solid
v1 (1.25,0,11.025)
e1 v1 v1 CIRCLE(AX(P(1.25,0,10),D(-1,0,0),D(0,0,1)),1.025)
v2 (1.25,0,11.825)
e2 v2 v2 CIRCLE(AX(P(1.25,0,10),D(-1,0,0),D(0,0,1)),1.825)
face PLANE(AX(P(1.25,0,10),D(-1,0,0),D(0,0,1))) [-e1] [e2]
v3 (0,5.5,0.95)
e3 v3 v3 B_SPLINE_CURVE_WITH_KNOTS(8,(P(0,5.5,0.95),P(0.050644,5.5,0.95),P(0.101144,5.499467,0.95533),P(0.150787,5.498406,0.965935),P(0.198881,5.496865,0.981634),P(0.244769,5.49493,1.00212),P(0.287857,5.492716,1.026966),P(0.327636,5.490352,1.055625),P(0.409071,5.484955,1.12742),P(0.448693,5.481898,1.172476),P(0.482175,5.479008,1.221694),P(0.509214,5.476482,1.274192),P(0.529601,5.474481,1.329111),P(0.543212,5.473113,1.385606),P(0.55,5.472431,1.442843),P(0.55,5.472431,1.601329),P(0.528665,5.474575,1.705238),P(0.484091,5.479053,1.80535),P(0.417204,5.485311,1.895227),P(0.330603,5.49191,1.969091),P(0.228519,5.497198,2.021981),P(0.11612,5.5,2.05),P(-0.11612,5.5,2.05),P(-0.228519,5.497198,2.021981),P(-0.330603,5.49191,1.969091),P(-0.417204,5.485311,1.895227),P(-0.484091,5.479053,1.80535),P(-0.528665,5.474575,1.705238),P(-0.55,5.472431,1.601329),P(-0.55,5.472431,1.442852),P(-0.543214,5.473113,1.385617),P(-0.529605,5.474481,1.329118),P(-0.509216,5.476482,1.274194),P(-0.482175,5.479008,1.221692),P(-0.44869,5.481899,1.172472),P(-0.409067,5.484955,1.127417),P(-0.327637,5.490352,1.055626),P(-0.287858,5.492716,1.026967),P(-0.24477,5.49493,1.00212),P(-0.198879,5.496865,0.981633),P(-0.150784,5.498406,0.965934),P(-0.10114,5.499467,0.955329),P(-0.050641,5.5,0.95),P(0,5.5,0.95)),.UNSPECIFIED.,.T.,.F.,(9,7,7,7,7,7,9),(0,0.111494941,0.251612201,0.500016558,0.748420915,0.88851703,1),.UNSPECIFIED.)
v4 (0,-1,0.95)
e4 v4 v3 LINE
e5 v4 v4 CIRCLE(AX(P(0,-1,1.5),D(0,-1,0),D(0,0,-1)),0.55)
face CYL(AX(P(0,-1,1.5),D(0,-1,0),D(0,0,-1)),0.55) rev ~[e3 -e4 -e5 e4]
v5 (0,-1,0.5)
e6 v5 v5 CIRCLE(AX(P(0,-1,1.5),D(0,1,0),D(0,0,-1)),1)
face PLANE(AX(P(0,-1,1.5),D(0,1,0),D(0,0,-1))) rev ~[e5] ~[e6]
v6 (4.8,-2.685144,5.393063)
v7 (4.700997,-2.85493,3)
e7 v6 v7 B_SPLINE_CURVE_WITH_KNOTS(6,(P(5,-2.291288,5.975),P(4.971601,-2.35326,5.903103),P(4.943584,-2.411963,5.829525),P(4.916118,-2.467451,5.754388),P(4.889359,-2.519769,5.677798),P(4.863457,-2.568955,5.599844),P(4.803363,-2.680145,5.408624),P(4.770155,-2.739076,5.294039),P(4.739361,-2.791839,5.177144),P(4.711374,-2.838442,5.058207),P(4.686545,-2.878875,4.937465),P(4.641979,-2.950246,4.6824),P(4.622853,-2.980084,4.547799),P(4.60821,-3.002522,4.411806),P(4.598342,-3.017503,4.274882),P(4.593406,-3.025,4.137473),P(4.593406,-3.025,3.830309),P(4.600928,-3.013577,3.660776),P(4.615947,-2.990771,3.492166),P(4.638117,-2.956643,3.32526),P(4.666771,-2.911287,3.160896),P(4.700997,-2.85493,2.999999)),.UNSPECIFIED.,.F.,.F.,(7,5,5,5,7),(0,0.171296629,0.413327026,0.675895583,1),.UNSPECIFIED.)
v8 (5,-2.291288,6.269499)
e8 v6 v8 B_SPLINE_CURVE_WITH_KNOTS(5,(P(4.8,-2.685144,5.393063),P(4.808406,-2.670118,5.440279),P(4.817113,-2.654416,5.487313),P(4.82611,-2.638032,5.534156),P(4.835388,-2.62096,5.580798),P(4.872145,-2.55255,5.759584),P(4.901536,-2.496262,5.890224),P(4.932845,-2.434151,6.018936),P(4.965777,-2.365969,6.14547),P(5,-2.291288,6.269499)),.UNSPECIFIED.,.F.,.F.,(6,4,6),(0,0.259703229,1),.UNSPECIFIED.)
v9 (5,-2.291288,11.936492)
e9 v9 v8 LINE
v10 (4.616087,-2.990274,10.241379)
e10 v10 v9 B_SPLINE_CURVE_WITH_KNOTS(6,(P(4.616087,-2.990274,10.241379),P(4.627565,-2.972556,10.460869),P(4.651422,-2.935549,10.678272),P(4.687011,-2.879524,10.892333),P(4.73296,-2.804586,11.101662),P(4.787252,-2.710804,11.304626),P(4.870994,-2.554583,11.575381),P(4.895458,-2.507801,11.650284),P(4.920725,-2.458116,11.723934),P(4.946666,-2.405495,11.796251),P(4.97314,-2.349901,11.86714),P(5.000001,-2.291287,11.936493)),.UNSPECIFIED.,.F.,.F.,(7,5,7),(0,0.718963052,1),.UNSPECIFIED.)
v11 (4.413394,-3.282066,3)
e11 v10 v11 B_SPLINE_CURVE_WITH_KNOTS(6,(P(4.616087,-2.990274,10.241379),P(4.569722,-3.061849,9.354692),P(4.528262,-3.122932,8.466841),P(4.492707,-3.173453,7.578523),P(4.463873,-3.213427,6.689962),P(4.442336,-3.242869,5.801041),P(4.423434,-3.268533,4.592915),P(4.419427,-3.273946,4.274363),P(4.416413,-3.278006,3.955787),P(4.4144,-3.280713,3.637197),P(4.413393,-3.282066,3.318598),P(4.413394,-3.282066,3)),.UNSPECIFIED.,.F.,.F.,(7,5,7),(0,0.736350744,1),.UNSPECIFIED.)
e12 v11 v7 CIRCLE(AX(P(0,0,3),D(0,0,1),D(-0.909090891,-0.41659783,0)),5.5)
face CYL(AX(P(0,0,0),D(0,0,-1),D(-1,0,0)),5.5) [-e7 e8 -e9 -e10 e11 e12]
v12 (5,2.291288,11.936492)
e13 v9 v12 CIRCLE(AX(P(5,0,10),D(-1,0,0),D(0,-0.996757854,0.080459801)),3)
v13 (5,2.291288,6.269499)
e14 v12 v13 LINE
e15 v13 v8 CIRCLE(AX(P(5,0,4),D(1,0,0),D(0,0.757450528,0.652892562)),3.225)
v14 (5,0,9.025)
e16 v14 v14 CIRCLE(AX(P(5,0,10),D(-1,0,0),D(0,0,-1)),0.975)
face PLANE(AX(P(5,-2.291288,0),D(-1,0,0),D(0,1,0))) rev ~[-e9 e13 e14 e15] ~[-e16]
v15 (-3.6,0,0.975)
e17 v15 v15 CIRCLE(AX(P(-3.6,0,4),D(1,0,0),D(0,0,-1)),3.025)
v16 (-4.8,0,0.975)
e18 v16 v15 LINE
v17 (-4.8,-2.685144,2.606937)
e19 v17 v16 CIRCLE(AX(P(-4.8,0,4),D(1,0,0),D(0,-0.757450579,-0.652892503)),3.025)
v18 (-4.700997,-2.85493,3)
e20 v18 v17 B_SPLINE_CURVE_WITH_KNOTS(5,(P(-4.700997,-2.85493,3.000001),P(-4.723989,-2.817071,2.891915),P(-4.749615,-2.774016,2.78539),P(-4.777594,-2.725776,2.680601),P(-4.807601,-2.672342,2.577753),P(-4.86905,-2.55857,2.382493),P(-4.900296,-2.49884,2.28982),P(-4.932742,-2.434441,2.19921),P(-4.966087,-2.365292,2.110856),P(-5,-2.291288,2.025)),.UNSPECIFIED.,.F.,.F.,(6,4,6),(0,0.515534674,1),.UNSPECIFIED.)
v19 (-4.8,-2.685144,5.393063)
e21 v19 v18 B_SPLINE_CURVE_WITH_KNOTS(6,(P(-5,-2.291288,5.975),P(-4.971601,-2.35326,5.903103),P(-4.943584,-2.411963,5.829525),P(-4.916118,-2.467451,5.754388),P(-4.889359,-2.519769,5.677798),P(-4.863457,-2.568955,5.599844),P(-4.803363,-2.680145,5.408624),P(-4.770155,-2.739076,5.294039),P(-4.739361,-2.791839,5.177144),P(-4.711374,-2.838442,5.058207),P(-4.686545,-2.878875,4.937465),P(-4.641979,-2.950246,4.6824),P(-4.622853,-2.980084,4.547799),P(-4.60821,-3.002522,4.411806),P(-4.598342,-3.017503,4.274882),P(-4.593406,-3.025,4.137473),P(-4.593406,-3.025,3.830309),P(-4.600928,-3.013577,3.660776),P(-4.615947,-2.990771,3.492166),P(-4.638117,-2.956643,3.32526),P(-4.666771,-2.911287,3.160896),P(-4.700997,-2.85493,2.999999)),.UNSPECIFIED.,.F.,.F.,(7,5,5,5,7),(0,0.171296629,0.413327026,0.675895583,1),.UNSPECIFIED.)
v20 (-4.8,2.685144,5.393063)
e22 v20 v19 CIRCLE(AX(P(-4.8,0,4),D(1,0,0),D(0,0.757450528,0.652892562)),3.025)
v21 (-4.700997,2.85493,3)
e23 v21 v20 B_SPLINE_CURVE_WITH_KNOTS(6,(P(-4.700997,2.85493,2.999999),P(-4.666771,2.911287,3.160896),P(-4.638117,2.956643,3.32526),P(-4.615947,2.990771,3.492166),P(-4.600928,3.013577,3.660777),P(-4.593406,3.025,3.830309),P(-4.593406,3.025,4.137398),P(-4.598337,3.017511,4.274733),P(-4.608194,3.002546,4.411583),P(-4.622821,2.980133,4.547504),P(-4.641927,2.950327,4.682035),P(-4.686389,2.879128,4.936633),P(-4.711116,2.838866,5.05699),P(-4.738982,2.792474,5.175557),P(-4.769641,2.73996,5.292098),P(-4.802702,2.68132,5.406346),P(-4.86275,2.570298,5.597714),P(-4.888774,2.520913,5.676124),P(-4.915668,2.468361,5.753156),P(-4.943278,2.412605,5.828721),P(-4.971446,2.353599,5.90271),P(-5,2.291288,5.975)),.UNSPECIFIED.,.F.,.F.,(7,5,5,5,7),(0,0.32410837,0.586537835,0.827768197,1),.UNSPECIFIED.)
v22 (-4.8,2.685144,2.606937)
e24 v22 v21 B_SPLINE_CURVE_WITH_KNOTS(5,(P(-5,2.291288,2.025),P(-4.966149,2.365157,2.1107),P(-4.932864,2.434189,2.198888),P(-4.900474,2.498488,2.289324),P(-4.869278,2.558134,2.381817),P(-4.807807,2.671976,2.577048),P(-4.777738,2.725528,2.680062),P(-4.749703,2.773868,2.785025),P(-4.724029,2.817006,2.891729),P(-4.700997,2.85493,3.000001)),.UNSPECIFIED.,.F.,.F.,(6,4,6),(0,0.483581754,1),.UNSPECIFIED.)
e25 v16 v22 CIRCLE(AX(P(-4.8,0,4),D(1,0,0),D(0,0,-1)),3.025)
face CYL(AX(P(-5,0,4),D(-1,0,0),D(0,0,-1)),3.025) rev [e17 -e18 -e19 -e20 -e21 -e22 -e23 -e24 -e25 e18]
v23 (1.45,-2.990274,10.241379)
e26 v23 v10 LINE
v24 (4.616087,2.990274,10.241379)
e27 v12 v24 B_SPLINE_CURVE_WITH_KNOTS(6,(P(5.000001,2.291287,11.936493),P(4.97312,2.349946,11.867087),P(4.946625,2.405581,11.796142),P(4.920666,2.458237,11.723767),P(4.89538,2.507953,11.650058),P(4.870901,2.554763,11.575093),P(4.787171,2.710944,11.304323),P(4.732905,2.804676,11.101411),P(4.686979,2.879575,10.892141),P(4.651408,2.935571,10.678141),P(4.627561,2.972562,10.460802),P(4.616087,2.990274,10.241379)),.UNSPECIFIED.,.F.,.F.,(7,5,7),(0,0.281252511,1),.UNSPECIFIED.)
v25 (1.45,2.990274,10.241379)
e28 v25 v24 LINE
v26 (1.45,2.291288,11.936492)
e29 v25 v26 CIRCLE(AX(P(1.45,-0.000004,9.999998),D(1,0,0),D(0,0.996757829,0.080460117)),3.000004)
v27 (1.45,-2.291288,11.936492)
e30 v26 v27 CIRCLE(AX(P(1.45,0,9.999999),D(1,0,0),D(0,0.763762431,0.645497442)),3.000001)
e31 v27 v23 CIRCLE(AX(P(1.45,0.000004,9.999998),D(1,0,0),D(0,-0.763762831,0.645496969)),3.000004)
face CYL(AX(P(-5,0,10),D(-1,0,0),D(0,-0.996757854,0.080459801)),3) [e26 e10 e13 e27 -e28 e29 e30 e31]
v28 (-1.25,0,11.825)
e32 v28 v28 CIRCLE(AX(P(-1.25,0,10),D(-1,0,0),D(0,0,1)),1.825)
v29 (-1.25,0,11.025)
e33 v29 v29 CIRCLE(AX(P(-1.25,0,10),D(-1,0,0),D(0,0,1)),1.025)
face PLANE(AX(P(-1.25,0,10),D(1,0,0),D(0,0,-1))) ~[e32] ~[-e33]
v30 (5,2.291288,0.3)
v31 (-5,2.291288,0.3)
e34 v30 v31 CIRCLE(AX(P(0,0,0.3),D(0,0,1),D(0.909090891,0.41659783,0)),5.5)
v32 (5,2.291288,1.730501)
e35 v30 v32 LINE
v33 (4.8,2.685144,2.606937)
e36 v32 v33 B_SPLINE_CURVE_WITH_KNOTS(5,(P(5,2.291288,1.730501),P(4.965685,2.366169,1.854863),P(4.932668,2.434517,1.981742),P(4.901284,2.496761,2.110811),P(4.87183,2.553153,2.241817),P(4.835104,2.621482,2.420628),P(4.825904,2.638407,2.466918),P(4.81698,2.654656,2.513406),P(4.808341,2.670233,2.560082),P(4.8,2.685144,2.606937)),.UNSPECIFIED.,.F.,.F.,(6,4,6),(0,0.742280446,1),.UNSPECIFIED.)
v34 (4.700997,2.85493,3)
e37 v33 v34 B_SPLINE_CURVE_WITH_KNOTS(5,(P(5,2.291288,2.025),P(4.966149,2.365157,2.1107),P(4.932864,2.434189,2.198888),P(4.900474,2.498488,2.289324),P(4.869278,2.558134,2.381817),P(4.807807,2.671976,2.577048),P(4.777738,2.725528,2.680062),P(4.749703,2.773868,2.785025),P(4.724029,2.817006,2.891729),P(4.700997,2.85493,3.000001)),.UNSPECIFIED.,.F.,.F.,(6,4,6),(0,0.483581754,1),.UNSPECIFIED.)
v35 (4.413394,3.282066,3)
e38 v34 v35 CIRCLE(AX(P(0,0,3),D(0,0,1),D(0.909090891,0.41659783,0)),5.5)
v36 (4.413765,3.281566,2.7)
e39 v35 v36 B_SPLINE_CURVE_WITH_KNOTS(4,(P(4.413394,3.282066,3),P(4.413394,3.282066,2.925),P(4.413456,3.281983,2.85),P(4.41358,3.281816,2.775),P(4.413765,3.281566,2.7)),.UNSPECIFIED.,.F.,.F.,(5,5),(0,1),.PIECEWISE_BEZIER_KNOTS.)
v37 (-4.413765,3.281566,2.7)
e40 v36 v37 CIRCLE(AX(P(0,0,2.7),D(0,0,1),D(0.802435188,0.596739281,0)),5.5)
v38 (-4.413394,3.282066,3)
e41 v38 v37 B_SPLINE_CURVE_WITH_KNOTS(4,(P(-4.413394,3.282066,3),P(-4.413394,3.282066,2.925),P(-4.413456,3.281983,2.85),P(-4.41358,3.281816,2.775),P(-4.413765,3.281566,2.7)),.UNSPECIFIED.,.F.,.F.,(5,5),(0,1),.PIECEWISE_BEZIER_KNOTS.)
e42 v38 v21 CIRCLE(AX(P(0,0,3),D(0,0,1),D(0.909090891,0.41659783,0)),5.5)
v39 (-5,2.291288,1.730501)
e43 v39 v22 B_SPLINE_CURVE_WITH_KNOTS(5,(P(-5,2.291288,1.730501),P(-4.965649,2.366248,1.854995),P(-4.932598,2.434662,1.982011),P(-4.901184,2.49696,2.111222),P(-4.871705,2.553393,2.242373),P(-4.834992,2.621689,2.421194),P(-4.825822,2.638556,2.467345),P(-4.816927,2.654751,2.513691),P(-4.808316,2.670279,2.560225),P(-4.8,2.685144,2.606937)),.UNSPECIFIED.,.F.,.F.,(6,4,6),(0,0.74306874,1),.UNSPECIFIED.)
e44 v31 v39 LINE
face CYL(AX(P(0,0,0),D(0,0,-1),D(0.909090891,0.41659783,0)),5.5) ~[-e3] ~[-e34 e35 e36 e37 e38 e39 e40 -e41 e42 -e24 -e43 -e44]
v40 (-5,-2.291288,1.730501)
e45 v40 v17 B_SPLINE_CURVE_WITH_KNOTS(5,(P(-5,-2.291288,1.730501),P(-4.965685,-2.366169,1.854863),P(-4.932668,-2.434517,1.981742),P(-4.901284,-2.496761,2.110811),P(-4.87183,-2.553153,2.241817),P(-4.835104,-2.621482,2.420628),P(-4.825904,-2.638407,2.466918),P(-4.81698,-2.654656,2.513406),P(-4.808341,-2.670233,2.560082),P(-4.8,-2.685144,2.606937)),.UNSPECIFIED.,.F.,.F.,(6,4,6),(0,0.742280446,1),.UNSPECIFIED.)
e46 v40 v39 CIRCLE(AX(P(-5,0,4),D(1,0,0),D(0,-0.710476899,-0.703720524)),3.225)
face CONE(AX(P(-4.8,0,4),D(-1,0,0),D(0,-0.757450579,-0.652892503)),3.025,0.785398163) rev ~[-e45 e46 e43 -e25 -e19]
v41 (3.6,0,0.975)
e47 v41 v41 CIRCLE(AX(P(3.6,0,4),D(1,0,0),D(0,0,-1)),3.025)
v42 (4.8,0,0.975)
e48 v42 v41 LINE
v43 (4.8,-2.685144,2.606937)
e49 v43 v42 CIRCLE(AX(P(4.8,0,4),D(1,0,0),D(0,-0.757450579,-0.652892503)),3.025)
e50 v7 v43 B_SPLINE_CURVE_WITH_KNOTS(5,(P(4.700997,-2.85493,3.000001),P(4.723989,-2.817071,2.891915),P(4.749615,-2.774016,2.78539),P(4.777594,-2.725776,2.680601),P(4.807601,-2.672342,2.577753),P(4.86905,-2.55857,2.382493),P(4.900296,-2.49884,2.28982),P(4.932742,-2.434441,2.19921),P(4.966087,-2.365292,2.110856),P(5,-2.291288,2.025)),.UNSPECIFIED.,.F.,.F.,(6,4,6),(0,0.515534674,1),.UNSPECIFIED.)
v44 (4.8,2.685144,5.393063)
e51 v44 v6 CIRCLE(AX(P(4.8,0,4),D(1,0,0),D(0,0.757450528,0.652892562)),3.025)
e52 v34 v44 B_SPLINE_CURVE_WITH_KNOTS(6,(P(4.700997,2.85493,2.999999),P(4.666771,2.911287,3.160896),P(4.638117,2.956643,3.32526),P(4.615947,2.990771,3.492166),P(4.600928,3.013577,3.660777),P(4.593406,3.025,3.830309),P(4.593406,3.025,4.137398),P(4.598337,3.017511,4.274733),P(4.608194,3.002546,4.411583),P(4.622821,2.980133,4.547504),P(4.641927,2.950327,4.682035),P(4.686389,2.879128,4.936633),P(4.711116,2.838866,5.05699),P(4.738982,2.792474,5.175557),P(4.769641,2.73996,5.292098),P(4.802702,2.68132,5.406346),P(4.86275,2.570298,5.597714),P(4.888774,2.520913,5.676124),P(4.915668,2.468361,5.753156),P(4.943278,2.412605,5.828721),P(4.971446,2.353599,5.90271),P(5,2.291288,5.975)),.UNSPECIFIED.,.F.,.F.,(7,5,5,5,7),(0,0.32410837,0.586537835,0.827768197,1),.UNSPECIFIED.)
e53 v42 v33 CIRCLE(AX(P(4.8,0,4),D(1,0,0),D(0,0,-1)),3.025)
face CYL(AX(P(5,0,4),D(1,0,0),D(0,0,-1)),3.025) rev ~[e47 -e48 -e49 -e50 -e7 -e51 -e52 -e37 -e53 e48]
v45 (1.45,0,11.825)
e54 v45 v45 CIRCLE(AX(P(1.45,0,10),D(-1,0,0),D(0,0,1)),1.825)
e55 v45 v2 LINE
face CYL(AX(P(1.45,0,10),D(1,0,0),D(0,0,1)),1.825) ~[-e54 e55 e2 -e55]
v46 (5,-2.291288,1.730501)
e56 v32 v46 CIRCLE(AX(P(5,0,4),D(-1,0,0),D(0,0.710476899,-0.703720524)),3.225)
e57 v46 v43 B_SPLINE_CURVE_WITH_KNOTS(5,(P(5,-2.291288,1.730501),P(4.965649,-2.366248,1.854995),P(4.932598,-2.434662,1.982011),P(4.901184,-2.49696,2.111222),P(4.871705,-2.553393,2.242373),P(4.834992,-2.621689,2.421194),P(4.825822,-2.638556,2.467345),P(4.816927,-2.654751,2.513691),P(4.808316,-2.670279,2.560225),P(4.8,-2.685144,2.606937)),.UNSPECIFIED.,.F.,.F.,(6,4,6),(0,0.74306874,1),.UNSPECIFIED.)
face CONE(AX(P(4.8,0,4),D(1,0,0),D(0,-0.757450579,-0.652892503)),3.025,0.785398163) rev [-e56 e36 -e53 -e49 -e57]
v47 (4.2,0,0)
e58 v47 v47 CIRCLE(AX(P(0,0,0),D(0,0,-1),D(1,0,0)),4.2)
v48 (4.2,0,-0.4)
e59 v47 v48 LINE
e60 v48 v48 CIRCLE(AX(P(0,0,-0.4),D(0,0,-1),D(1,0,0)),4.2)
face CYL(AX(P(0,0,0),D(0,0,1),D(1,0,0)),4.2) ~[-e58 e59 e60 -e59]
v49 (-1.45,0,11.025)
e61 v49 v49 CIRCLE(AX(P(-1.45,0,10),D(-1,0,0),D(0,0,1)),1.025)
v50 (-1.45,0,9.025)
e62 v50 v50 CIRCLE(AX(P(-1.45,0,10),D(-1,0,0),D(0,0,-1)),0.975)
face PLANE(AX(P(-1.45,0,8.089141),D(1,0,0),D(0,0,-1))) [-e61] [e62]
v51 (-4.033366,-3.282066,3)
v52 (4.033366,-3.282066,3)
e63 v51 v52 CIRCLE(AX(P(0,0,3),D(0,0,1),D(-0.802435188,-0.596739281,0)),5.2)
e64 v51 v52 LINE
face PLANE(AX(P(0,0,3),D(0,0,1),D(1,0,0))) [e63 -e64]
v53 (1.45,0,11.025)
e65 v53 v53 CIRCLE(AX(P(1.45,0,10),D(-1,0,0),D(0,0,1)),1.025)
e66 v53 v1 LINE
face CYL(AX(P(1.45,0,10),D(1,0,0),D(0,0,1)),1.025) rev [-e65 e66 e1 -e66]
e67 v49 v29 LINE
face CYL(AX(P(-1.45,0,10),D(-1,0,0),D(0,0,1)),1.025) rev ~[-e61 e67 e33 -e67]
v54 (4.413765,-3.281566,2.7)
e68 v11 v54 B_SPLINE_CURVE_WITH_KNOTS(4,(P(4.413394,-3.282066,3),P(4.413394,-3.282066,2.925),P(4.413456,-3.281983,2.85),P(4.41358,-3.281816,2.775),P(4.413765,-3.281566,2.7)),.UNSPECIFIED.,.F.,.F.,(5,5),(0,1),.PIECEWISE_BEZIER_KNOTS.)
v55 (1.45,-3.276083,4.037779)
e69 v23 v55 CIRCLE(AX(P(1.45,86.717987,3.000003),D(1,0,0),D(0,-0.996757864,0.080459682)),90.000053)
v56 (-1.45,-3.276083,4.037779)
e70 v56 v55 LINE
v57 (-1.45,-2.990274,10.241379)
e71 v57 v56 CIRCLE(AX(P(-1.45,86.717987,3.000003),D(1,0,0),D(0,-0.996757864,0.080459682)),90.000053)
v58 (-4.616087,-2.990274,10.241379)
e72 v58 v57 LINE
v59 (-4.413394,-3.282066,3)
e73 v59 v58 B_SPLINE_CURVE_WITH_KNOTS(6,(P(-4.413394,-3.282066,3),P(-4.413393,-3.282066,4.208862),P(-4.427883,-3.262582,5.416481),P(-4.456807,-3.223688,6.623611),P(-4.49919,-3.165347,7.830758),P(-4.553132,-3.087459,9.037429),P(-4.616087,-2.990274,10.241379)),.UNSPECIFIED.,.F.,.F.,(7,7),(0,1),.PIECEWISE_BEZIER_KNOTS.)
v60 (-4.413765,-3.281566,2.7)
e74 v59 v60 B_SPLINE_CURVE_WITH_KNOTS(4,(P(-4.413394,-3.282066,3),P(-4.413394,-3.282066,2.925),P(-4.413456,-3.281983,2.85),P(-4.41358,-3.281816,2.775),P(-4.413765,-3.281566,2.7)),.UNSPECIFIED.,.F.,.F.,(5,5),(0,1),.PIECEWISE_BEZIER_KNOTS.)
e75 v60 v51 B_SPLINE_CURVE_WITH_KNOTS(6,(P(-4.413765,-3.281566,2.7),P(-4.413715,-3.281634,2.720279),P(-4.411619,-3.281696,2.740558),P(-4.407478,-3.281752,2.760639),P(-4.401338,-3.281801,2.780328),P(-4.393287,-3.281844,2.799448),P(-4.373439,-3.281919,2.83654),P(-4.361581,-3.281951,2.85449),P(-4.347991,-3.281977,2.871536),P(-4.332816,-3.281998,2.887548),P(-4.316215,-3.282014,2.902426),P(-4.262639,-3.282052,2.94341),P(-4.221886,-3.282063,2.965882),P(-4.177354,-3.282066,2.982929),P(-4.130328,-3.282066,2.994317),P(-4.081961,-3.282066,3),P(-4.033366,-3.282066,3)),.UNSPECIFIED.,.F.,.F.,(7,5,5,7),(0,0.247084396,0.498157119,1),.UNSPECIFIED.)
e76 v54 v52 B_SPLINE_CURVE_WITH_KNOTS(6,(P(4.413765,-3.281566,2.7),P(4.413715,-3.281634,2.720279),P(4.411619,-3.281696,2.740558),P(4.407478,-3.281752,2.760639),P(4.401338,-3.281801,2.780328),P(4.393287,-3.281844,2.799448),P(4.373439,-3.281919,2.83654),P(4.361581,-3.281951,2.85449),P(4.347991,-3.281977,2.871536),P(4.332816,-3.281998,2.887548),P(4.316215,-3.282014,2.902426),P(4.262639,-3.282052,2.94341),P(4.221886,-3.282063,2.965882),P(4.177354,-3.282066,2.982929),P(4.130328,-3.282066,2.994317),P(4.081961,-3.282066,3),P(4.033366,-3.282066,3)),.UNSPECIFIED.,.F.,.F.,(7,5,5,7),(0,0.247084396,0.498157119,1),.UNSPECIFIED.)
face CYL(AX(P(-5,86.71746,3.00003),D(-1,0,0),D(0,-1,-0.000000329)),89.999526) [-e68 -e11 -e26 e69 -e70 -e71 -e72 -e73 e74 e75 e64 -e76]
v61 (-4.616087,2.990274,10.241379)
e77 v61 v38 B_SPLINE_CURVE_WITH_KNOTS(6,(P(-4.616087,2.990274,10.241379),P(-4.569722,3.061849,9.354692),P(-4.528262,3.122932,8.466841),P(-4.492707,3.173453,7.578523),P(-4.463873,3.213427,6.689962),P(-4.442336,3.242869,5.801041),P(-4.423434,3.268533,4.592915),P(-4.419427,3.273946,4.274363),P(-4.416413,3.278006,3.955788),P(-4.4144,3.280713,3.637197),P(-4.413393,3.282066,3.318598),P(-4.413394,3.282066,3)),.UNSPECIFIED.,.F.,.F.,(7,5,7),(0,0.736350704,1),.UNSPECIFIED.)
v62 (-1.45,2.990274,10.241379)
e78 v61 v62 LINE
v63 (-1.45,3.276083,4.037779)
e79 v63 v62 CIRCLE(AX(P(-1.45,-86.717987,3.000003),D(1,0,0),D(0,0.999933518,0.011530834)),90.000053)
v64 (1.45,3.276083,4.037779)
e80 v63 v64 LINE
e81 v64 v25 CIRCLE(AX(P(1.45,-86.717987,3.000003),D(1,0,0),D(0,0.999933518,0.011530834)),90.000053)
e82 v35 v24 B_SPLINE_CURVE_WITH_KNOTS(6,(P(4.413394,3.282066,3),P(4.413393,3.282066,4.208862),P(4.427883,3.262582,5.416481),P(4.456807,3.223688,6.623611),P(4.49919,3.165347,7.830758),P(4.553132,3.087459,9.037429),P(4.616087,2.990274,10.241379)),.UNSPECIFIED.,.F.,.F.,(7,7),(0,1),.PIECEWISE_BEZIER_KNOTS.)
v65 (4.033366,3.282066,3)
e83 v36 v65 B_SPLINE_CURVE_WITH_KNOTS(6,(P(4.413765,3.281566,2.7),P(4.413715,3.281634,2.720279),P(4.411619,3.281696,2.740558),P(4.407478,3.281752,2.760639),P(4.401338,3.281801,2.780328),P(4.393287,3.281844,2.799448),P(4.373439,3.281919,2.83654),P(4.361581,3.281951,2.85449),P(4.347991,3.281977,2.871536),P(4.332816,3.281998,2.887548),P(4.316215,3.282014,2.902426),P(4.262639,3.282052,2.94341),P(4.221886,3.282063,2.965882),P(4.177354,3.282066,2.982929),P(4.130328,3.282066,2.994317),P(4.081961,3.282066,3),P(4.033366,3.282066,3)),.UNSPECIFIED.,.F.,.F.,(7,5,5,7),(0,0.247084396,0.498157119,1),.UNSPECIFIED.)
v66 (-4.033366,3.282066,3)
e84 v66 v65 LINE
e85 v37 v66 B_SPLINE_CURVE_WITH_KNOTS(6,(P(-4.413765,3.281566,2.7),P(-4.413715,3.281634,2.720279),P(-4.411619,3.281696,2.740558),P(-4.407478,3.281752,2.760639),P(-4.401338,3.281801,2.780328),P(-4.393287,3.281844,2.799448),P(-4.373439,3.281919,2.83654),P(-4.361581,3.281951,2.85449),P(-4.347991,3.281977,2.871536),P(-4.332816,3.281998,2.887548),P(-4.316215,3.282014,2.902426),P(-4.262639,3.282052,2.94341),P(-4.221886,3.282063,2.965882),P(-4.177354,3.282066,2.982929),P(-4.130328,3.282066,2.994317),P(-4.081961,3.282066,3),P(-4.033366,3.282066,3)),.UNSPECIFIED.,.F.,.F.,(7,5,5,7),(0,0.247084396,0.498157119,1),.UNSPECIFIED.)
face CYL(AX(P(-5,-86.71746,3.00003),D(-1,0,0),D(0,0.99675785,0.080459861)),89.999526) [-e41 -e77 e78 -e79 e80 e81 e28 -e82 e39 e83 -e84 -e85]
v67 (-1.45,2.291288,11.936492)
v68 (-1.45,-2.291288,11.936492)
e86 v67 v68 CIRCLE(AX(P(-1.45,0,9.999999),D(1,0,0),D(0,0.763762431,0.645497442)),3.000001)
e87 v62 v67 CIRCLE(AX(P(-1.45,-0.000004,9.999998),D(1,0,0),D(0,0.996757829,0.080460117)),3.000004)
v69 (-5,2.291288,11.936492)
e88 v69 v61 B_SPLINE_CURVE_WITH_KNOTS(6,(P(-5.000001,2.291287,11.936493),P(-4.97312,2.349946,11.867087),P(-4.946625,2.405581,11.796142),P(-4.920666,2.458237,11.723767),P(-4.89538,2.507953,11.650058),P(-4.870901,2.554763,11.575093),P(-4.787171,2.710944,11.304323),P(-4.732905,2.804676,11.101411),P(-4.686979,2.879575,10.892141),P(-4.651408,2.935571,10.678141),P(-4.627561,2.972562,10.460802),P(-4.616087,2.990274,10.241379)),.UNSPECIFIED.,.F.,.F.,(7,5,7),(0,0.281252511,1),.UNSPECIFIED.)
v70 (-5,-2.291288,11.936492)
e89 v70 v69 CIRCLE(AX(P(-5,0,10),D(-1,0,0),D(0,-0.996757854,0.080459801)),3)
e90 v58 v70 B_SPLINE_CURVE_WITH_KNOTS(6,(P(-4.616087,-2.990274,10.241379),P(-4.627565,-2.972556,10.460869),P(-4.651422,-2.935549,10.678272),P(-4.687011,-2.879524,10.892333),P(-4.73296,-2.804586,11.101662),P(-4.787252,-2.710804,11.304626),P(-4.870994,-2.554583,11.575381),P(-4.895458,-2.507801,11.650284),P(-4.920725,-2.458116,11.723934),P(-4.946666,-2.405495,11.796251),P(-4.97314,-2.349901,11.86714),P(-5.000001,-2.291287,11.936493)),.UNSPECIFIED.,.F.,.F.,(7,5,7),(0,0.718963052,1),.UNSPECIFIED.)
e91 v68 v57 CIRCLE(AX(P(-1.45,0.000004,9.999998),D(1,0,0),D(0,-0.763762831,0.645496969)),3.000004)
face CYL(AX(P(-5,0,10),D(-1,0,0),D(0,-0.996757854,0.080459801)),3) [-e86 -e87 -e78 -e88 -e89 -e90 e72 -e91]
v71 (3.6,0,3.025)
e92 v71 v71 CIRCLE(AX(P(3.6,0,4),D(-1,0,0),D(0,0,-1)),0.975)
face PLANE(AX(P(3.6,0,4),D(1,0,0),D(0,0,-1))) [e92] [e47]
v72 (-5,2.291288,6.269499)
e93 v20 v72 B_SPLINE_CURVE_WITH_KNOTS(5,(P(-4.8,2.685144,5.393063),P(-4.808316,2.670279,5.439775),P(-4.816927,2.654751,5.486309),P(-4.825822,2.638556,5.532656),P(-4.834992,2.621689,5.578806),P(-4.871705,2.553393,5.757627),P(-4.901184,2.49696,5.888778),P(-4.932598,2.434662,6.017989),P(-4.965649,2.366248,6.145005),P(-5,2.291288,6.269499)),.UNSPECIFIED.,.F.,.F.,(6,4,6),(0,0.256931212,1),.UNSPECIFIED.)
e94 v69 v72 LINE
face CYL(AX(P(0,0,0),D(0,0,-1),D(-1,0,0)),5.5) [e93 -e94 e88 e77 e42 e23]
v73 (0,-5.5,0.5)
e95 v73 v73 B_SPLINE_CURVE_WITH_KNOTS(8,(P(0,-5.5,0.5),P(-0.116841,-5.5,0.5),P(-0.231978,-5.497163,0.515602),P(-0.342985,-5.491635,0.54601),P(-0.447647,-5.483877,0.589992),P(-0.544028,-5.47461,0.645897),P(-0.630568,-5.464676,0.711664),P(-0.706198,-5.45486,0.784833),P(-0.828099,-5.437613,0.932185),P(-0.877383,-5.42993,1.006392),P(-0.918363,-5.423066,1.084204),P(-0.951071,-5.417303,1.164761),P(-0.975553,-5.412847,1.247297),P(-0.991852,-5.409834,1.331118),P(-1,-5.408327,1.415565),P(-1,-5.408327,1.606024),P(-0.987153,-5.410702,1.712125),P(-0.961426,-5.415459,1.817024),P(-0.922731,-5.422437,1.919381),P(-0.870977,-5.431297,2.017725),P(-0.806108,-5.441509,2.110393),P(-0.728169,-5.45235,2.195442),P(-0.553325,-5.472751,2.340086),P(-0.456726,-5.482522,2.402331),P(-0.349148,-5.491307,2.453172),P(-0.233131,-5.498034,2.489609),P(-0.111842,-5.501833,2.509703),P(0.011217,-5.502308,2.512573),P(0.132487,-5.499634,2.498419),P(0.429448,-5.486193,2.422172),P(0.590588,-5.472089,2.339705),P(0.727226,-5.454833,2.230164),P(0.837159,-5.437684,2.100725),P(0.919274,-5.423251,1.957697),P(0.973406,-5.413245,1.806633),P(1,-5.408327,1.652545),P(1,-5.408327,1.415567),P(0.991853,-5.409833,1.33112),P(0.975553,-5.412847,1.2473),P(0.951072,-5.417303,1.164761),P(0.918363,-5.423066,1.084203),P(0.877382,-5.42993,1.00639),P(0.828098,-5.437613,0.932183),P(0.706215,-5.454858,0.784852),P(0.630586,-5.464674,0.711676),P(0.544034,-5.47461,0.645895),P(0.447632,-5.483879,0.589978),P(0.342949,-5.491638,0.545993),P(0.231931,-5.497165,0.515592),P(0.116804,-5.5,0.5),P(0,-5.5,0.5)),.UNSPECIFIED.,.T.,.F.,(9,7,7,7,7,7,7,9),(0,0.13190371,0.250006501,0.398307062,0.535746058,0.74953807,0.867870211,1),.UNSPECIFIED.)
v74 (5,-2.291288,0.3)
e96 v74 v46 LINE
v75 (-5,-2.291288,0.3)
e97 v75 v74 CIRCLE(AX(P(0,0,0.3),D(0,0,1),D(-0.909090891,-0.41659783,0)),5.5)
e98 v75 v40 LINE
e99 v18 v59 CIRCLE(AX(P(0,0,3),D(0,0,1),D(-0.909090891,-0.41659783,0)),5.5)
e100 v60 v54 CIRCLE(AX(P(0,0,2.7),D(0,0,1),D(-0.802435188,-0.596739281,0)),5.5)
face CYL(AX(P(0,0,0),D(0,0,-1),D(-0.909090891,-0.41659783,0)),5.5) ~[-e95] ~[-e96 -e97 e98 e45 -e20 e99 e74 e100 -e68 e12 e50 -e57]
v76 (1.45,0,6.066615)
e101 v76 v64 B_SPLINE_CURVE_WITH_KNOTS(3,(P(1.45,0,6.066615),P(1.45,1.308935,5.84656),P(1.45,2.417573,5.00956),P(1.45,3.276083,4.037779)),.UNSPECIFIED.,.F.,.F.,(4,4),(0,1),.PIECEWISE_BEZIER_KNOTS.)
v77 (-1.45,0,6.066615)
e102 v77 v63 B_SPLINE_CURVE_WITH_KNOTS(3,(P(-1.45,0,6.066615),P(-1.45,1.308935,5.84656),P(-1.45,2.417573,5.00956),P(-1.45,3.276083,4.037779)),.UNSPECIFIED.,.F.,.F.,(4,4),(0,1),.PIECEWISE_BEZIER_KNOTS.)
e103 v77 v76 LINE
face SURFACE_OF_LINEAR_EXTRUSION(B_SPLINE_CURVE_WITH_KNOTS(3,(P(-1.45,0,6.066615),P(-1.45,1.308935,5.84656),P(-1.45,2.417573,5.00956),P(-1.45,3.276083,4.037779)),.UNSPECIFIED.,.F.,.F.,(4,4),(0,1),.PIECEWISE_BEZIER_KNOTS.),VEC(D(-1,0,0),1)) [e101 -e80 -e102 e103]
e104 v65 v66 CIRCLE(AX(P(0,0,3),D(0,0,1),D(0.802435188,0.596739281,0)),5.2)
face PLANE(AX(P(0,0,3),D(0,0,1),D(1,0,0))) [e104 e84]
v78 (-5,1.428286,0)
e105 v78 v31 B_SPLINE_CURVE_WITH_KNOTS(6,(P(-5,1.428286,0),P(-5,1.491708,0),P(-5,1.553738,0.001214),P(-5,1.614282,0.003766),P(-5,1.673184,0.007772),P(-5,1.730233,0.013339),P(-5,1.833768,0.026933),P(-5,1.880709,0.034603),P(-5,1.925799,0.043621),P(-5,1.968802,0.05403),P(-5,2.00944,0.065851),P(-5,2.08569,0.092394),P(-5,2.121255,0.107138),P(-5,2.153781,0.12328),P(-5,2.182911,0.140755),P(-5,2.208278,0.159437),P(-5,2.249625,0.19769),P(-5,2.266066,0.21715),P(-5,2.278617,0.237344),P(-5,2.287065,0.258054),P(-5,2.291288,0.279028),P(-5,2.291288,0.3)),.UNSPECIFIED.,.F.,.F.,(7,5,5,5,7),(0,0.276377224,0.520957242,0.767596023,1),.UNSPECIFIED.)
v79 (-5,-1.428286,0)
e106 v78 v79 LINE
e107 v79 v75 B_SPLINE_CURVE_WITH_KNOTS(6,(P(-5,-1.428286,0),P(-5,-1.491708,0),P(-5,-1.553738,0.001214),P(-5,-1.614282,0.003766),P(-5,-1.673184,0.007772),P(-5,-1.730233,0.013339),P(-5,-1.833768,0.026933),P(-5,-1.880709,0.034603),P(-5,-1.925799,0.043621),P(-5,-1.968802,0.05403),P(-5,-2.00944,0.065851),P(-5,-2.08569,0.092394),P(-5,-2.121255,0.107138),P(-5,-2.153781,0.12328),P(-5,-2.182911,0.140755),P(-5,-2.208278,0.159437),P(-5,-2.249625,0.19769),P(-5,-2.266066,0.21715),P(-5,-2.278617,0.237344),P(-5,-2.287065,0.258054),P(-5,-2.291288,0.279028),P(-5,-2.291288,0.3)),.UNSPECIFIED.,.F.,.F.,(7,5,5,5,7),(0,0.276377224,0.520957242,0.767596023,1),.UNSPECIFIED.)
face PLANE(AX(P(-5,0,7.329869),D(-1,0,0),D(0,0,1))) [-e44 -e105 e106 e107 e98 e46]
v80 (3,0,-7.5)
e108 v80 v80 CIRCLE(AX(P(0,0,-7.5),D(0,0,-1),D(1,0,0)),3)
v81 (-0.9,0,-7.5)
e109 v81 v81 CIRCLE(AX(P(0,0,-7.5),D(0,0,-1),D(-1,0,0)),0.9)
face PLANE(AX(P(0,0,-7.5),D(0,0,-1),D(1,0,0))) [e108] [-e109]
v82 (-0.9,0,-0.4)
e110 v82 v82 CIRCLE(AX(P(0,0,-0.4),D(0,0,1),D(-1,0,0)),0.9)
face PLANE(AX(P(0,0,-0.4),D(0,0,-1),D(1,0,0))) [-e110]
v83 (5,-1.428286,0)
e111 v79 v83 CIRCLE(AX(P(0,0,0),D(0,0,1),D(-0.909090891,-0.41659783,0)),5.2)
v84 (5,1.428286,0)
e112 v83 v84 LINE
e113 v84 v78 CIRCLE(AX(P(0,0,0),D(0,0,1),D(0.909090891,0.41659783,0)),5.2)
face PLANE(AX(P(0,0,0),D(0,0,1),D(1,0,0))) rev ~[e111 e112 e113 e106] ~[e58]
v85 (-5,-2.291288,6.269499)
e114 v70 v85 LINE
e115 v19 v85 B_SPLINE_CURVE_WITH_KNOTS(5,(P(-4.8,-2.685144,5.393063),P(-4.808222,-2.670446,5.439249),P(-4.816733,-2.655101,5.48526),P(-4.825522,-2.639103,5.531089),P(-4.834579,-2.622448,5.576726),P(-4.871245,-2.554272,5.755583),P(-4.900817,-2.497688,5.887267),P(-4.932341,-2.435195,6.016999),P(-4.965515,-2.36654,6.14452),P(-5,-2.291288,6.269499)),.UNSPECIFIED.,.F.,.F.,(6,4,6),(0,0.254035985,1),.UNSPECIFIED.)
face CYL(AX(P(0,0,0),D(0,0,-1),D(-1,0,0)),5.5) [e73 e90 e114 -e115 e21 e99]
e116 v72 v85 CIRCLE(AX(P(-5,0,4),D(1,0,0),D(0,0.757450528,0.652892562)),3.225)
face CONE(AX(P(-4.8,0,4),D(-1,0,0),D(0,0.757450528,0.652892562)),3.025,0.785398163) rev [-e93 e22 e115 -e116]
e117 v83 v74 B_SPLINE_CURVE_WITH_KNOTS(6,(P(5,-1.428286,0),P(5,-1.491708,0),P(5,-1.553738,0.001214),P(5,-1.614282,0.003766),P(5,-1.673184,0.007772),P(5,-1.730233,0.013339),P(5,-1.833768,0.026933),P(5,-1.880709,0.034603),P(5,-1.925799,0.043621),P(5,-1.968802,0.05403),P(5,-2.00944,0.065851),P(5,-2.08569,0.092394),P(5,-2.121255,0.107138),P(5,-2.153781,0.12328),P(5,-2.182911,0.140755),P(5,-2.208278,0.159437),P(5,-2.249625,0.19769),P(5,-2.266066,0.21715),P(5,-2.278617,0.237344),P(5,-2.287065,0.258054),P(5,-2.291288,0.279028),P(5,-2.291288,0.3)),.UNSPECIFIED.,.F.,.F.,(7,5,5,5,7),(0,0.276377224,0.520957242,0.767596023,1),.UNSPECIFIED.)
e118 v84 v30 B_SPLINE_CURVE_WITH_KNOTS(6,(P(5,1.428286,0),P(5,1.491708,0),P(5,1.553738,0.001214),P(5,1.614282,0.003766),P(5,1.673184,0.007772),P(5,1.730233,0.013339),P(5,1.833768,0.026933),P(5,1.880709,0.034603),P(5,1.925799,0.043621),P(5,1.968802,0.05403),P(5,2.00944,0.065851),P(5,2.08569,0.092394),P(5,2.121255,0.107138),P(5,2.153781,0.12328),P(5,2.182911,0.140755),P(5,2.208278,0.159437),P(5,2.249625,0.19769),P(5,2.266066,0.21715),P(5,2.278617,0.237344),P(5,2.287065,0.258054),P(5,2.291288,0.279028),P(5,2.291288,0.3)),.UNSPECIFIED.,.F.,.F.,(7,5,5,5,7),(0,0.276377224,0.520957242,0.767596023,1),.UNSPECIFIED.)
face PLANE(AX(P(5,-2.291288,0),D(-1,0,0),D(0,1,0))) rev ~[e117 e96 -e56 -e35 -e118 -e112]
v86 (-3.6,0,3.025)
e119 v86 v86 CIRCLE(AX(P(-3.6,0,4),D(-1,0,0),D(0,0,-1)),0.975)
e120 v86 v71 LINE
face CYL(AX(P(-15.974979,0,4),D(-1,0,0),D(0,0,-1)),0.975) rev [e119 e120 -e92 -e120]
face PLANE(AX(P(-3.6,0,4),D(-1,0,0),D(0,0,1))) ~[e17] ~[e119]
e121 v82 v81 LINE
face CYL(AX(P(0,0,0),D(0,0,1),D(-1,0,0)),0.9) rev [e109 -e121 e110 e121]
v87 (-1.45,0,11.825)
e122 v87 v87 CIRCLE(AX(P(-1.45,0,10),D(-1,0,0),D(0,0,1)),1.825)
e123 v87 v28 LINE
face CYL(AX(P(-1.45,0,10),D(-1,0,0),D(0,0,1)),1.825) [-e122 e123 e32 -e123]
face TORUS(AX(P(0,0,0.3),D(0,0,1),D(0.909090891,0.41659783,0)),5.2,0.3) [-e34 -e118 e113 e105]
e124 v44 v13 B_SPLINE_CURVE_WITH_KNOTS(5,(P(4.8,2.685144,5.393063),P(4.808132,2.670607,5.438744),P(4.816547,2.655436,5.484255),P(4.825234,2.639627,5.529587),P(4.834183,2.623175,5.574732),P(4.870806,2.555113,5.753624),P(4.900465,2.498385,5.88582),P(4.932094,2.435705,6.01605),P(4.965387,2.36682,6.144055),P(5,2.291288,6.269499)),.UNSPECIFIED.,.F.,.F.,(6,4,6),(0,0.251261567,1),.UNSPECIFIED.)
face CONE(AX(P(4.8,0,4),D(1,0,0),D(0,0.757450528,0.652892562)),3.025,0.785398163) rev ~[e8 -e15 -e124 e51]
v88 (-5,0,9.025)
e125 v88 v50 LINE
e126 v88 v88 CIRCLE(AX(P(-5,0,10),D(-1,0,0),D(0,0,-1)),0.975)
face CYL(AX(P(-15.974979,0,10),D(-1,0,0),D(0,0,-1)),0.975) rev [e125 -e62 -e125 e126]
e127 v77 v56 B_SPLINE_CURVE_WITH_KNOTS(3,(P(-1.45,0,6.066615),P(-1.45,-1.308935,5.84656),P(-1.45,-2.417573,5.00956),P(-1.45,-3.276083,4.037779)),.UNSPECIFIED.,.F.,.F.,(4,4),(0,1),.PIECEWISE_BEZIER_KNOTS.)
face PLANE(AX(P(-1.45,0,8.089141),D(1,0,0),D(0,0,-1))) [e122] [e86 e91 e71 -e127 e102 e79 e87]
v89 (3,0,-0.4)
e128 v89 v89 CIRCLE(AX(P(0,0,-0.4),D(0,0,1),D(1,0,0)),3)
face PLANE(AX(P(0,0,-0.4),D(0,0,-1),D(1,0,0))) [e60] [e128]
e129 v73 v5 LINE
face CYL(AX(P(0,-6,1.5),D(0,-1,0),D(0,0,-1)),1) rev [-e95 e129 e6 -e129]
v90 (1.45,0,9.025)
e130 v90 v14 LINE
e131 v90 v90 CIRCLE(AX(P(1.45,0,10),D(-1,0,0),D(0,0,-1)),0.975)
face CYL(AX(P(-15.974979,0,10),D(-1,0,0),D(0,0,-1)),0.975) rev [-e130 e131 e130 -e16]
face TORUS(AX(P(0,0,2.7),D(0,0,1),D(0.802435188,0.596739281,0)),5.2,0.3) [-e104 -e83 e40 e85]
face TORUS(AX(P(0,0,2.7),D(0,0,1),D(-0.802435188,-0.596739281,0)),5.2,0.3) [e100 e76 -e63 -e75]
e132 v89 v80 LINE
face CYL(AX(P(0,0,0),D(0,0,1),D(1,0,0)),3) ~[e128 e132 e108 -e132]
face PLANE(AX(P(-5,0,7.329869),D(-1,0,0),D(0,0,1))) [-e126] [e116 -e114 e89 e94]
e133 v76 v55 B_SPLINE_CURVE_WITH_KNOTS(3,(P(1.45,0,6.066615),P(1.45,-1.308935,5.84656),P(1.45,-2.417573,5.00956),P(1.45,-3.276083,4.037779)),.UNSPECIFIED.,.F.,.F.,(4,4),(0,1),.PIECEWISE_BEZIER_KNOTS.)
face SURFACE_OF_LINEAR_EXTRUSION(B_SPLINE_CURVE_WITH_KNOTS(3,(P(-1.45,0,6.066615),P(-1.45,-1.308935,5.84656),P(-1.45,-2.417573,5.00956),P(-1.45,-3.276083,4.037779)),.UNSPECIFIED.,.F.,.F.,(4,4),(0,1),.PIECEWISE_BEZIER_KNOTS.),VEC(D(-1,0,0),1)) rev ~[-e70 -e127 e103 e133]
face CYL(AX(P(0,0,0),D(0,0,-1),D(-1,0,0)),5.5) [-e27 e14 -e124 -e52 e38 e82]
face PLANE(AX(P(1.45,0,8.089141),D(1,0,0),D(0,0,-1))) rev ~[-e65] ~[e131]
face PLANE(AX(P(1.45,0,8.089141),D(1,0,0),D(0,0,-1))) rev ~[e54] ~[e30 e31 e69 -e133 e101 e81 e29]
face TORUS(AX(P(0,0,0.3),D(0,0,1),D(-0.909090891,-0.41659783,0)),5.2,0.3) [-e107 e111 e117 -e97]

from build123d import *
from build123d.topology import SkipClean

# Parameters (mm, degrees)
EXTRUDE_1_DEPTH          = 3
EXTRUDE_3_DEPTH          = 5
EXTRUDE_3_DEPTH_BACK     = 5
SKETCH_5_R               = 6.36543
SKETCH_5_R_2             = 5.5
CUT_EXTRUDE_1_DEPTH      = 14
CUT_EXTRUDE_2_DEPTH      = 15.974979
CUT_EXTRUDE_2_DEPTH_BACK = 15.974979
SKETCH_6_R               = 0.975
SKETCH_7_R               = 3
SKETCH_7_R_2             = 0.9
EXTRUDE_4_DEPTH          = 7.5
CUT_EXTRUDE_3_DEPTH      = 1.45
CUT_EXTRUDE_3_DEPTH_BACK = 1.45
SKETCH_10_R              = 1.825
SKETCH_10_R_2            = 1.025
EXTRUDE_5_DEPTH          = 0.2
SKETCH_11_R              = 3.025
CUT_EXTRUDE_4_DEPTH      = 1.4
SKETCH_12_R              = 4.2
EXTRUDE_6_DEPTH          = 0.4
FILLET_3_R               = 0.3
CHAMFER_1_SIZE           = 0.2
SKETCH_14_R              = 1
CUT_EXTRUDE_5_DEPTH      = 5
SKETCH_15_R              = 0.55
CUT_EXTRUDE_6_DEPTH      = 7


with BuildPart() as part:
    # 草图1 → 凸台-拉伸1 (new body)
    with BuildSketch(Plane.XY):
        with BuildLine():
            Line((-5, 2.291288), (-5, -2.291288))
            ThreePointArc((-5, -2.291288), (0, -5.5), (5, -2.291288))
            Line((5, -2.291288), (5, 2.291288))
            ThreePointArc((5, 2.291288), (0, 5.5), (-5, 2.291288))
        make_face()
    extrude(amount=EXTRUDE_1_DEPTH)

    # 草图4 → 凸台-拉伸3 (add, two sides: drawn at the far end of the back side and taken through both)
    with BuildSketch(Plane(origin=(0, 0, 0), x_dir=(0, 0, -1), z_dir=(1, 0, 0)).offset(-EXTRUDE_3_DEPTH_BACK)):
        with BuildLine():
            Line((-3, 3.282066), (-3, -3.282066))
            ThreePointArc((-3, -3.282066), (-6.623628, -3.209089), (-10.241379, -2.990274))
            ThreePointArc((-10.241379, -2.990274), (-13, 0), (-10.241379, 2.990274))
            ThreePointArc((-10.241379, 2.990274), (-6.623628, 3.209089), (-3, 3.282066))
        make_face()
    extrude(amount=EXTRUDE_3_DEPTH + EXTRUDE_3_DEPTH_BACK)

    # 草图5 → 切除-拉伸1 (cut)
    with BuildSketch(Plane(origin=(0, 0, 0), x_dir=(-1, 0, 0), z_dir=(0, 0, -1))):
        Circle(SKETCH_5_R)
        Circle(SKETCH_5_R_2, mode=Mode.SUBTRACT)
    extrude(amount=-CUT_EXTRUDE_1_DEPTH, mode=Mode.SUBTRACT)

    # 草图6 → 切除-拉伸2 (cut, two sides: drawn at the far end of the back side and taken through both)
    with SkipClean():  # the faces are left unmerged after this step: merging them gives an invalid solid
        with BuildSketch(Plane(origin=(0, 0, 0), x_dir=(0, 0, -1), z_dir=(1, 0, 0)).offset(-CUT_EXTRUDE_2_DEPTH_BACK)):
            with Locations((-10, 0)):
                Circle(SKETCH_6_R)
            with Locations((-4, 0)):
                Circle(SKETCH_6_R)
        extrude(amount=CUT_EXTRUDE_2_DEPTH + CUT_EXTRUDE_2_DEPTH_BACK, mode=Mode.SUBTRACT)

    # 草图7 → 凸台-拉伸4 (add)
    with SkipClean():  # the faces are left unmerged after this step: merging them gives an invalid solid
        with BuildSketch(Plane(origin=(0, 0, 0), x_dir=(-1, 0, 0), z_dir=(0, 0, -1))):
            Circle(SKETCH_7_R)
            Circle(SKETCH_7_R_2, mode=Mode.SUBTRACT)
        extrude(amount=EXTRUDE_4_DEPTH)

    # 草图8 → 切除-拉伸3 (cut, two sides: drawn at the far end of the back side and taken through both)
    with SkipClean():  # the faces are left unmerged after this step: merging them gives an invalid solid
        with BuildSketch(Plane(origin=(0, 0, 0), x_dir=(0, 0, -1), z_dir=(1, 0, 0)).offset(-CUT_EXTRUDE_3_DEPTH_BACK)):
            with BuildLine():
                ThreePointArc((-4.037779, 3.276083), (-7.142045, 3.186702), (-10.241379, 2.990274))
                ThreePointArc((-10.241379, 2.990274), (-11.143646, 2.773459), (-11.936492, 2.291288))
                ThreePointArc((-11.936492, 2.291288), (-13, 0), (-11.936492, -2.291288))
                ThreePointArc((-11.936492, -2.291288), (-11.143646, -2.773459), (-10.241379, -2.990274))
                ThreePointArc((-10.241379, -2.990274), (-7.142045, -3.186702), (-4.037779, -3.276083))
                add(Edge.make_bspline(
                    [(-6.066615, 0), (-5.84656, -1.308935), (-5.00956, -2.417573), (-4.037779, -3.276083)],
                    knots=[0, 0, 0, 0, 1, 1, 1, 1], degree=3))
                add(Edge.make_bspline(
                    [(-6.066615, 0), (-5.84656, 1.308935), (-5.00956, 2.417573), (-4.037779, 3.276083)],
                    knots=[0, 0, 0, 0, 1, 1, 1, 1], degree=3))
            make_face()
        extrude(amount=CUT_EXTRUDE_3_DEPTH + CUT_EXTRUDE_3_DEPTH_BACK, mode=Mode.SUBTRACT)

    # 草图10 → 凸台-拉伸5 (add)
    with SkipClean():  # the faces are left unmerged after this step: merging them gives an invalid solid
        with BuildSketch(Plane.ZY.offset(-1.45)):
            with Locations((10, 0)):
                Circle(SKETCH_10_R)
            with Locations((10, 0)):
                Circle(SKETCH_10_R_2, mode=Mode.SUBTRACT)
        extrude_5 = extrude(amount=EXTRUDE_5_DEPTH)

    # 草图11 → 切除-拉伸4 (cut)
    with SkipClean():  # the faces are left unmerged after this step: merging them gives an invalid solid
        with BuildSketch(Plane(origin=(5, 0, 0), x_dir=(0, 0, -1), z_dir=(1, 0, 0))):
            with Locations((-4, 0)):
                Circle(SKETCH_11_R)
        cut_extrude_4 = extrude(amount=-CUT_EXTRUDE_4_DEPTH, mode=Mode.SUBTRACT)

    # 镜向1: 凸台-拉伸5, 切除-拉伸4 across plane
    with SkipClean():  # the faces are left unmerged after this step: merging them gives an invalid solid
        add(extrude_5.mirror(Plane(origin=(0, 0, 0), x_dir=(0, 0, 1), z_dir=(1, 0, 0))))
        add(cut_extrude_4.mirror(Plane(origin=(0, 0, 0), x_dir=(0, 0, 1), z_dir=(1, 0, 0))), mode=Mode.SUBTRACT)

    # 草图12 → 凸台-拉伸6 (add)
    with BuildSketch(Plane(origin=(0, 0, 0), x_dir=(-1, 0, 0), z_dir=(0, 0, -1))):
        Circle(SKETCH_12_R)
    extrude(amount=EXTRUDE_6_DEPTH)

    # 圆角3
    fillet_3_edges = [part.edges().sort_by_distance(p)[0] for p in [
        (0, -5.5, 3),
        (0, -5.5, 0),
        (0, 5.5, 3),
        (0, 5.5, 0),
    ]]
    fillet(fillet_3_edges, radius=FILLET_3_R)

    # 倒角1
    chamfer_1_edges = [part.edges().sort_by_distance(p)[0] for p in [
        (-5, 0, 7.025),
        (-5, 1.260208, 1.25),
        (5, -1.260208, 1.25),
        (5, 0, 7.025),
    ]]
    chamfer(chamfer_1_edges, length=CHAMFER_1_SIZE)

    # 草图14 → 切除-拉伸5 (cut)
    with SkipClean():  # the faces are left unmerged after this step: merging them gives an invalid solid
        with BuildSketch(Plane(origin=(0, -6, 0), x_dir=(1, 0, 0), z_dir=(0, 1, 0))):
            with Locations((0, -1.5)):
                Circle(SKETCH_14_R)
        extrude(amount=CUT_EXTRUDE_5_DEPTH, mode=Mode.SUBTRACT)

    # 草图15 → 切除-拉伸6 (cut)
    with SkipClean():  # the faces are left unmerged after this step: merging them gives an invalid solid
        with BuildSketch(Plane.XZ.offset(1)):
            with Locations((0, 1.5)):
                Circle(SKETCH_15_R)
        extrude(amount=-CUT_EXTRUDE_6_DEPTH, mode=Mode.SUBTRACT)


solid = part.part
